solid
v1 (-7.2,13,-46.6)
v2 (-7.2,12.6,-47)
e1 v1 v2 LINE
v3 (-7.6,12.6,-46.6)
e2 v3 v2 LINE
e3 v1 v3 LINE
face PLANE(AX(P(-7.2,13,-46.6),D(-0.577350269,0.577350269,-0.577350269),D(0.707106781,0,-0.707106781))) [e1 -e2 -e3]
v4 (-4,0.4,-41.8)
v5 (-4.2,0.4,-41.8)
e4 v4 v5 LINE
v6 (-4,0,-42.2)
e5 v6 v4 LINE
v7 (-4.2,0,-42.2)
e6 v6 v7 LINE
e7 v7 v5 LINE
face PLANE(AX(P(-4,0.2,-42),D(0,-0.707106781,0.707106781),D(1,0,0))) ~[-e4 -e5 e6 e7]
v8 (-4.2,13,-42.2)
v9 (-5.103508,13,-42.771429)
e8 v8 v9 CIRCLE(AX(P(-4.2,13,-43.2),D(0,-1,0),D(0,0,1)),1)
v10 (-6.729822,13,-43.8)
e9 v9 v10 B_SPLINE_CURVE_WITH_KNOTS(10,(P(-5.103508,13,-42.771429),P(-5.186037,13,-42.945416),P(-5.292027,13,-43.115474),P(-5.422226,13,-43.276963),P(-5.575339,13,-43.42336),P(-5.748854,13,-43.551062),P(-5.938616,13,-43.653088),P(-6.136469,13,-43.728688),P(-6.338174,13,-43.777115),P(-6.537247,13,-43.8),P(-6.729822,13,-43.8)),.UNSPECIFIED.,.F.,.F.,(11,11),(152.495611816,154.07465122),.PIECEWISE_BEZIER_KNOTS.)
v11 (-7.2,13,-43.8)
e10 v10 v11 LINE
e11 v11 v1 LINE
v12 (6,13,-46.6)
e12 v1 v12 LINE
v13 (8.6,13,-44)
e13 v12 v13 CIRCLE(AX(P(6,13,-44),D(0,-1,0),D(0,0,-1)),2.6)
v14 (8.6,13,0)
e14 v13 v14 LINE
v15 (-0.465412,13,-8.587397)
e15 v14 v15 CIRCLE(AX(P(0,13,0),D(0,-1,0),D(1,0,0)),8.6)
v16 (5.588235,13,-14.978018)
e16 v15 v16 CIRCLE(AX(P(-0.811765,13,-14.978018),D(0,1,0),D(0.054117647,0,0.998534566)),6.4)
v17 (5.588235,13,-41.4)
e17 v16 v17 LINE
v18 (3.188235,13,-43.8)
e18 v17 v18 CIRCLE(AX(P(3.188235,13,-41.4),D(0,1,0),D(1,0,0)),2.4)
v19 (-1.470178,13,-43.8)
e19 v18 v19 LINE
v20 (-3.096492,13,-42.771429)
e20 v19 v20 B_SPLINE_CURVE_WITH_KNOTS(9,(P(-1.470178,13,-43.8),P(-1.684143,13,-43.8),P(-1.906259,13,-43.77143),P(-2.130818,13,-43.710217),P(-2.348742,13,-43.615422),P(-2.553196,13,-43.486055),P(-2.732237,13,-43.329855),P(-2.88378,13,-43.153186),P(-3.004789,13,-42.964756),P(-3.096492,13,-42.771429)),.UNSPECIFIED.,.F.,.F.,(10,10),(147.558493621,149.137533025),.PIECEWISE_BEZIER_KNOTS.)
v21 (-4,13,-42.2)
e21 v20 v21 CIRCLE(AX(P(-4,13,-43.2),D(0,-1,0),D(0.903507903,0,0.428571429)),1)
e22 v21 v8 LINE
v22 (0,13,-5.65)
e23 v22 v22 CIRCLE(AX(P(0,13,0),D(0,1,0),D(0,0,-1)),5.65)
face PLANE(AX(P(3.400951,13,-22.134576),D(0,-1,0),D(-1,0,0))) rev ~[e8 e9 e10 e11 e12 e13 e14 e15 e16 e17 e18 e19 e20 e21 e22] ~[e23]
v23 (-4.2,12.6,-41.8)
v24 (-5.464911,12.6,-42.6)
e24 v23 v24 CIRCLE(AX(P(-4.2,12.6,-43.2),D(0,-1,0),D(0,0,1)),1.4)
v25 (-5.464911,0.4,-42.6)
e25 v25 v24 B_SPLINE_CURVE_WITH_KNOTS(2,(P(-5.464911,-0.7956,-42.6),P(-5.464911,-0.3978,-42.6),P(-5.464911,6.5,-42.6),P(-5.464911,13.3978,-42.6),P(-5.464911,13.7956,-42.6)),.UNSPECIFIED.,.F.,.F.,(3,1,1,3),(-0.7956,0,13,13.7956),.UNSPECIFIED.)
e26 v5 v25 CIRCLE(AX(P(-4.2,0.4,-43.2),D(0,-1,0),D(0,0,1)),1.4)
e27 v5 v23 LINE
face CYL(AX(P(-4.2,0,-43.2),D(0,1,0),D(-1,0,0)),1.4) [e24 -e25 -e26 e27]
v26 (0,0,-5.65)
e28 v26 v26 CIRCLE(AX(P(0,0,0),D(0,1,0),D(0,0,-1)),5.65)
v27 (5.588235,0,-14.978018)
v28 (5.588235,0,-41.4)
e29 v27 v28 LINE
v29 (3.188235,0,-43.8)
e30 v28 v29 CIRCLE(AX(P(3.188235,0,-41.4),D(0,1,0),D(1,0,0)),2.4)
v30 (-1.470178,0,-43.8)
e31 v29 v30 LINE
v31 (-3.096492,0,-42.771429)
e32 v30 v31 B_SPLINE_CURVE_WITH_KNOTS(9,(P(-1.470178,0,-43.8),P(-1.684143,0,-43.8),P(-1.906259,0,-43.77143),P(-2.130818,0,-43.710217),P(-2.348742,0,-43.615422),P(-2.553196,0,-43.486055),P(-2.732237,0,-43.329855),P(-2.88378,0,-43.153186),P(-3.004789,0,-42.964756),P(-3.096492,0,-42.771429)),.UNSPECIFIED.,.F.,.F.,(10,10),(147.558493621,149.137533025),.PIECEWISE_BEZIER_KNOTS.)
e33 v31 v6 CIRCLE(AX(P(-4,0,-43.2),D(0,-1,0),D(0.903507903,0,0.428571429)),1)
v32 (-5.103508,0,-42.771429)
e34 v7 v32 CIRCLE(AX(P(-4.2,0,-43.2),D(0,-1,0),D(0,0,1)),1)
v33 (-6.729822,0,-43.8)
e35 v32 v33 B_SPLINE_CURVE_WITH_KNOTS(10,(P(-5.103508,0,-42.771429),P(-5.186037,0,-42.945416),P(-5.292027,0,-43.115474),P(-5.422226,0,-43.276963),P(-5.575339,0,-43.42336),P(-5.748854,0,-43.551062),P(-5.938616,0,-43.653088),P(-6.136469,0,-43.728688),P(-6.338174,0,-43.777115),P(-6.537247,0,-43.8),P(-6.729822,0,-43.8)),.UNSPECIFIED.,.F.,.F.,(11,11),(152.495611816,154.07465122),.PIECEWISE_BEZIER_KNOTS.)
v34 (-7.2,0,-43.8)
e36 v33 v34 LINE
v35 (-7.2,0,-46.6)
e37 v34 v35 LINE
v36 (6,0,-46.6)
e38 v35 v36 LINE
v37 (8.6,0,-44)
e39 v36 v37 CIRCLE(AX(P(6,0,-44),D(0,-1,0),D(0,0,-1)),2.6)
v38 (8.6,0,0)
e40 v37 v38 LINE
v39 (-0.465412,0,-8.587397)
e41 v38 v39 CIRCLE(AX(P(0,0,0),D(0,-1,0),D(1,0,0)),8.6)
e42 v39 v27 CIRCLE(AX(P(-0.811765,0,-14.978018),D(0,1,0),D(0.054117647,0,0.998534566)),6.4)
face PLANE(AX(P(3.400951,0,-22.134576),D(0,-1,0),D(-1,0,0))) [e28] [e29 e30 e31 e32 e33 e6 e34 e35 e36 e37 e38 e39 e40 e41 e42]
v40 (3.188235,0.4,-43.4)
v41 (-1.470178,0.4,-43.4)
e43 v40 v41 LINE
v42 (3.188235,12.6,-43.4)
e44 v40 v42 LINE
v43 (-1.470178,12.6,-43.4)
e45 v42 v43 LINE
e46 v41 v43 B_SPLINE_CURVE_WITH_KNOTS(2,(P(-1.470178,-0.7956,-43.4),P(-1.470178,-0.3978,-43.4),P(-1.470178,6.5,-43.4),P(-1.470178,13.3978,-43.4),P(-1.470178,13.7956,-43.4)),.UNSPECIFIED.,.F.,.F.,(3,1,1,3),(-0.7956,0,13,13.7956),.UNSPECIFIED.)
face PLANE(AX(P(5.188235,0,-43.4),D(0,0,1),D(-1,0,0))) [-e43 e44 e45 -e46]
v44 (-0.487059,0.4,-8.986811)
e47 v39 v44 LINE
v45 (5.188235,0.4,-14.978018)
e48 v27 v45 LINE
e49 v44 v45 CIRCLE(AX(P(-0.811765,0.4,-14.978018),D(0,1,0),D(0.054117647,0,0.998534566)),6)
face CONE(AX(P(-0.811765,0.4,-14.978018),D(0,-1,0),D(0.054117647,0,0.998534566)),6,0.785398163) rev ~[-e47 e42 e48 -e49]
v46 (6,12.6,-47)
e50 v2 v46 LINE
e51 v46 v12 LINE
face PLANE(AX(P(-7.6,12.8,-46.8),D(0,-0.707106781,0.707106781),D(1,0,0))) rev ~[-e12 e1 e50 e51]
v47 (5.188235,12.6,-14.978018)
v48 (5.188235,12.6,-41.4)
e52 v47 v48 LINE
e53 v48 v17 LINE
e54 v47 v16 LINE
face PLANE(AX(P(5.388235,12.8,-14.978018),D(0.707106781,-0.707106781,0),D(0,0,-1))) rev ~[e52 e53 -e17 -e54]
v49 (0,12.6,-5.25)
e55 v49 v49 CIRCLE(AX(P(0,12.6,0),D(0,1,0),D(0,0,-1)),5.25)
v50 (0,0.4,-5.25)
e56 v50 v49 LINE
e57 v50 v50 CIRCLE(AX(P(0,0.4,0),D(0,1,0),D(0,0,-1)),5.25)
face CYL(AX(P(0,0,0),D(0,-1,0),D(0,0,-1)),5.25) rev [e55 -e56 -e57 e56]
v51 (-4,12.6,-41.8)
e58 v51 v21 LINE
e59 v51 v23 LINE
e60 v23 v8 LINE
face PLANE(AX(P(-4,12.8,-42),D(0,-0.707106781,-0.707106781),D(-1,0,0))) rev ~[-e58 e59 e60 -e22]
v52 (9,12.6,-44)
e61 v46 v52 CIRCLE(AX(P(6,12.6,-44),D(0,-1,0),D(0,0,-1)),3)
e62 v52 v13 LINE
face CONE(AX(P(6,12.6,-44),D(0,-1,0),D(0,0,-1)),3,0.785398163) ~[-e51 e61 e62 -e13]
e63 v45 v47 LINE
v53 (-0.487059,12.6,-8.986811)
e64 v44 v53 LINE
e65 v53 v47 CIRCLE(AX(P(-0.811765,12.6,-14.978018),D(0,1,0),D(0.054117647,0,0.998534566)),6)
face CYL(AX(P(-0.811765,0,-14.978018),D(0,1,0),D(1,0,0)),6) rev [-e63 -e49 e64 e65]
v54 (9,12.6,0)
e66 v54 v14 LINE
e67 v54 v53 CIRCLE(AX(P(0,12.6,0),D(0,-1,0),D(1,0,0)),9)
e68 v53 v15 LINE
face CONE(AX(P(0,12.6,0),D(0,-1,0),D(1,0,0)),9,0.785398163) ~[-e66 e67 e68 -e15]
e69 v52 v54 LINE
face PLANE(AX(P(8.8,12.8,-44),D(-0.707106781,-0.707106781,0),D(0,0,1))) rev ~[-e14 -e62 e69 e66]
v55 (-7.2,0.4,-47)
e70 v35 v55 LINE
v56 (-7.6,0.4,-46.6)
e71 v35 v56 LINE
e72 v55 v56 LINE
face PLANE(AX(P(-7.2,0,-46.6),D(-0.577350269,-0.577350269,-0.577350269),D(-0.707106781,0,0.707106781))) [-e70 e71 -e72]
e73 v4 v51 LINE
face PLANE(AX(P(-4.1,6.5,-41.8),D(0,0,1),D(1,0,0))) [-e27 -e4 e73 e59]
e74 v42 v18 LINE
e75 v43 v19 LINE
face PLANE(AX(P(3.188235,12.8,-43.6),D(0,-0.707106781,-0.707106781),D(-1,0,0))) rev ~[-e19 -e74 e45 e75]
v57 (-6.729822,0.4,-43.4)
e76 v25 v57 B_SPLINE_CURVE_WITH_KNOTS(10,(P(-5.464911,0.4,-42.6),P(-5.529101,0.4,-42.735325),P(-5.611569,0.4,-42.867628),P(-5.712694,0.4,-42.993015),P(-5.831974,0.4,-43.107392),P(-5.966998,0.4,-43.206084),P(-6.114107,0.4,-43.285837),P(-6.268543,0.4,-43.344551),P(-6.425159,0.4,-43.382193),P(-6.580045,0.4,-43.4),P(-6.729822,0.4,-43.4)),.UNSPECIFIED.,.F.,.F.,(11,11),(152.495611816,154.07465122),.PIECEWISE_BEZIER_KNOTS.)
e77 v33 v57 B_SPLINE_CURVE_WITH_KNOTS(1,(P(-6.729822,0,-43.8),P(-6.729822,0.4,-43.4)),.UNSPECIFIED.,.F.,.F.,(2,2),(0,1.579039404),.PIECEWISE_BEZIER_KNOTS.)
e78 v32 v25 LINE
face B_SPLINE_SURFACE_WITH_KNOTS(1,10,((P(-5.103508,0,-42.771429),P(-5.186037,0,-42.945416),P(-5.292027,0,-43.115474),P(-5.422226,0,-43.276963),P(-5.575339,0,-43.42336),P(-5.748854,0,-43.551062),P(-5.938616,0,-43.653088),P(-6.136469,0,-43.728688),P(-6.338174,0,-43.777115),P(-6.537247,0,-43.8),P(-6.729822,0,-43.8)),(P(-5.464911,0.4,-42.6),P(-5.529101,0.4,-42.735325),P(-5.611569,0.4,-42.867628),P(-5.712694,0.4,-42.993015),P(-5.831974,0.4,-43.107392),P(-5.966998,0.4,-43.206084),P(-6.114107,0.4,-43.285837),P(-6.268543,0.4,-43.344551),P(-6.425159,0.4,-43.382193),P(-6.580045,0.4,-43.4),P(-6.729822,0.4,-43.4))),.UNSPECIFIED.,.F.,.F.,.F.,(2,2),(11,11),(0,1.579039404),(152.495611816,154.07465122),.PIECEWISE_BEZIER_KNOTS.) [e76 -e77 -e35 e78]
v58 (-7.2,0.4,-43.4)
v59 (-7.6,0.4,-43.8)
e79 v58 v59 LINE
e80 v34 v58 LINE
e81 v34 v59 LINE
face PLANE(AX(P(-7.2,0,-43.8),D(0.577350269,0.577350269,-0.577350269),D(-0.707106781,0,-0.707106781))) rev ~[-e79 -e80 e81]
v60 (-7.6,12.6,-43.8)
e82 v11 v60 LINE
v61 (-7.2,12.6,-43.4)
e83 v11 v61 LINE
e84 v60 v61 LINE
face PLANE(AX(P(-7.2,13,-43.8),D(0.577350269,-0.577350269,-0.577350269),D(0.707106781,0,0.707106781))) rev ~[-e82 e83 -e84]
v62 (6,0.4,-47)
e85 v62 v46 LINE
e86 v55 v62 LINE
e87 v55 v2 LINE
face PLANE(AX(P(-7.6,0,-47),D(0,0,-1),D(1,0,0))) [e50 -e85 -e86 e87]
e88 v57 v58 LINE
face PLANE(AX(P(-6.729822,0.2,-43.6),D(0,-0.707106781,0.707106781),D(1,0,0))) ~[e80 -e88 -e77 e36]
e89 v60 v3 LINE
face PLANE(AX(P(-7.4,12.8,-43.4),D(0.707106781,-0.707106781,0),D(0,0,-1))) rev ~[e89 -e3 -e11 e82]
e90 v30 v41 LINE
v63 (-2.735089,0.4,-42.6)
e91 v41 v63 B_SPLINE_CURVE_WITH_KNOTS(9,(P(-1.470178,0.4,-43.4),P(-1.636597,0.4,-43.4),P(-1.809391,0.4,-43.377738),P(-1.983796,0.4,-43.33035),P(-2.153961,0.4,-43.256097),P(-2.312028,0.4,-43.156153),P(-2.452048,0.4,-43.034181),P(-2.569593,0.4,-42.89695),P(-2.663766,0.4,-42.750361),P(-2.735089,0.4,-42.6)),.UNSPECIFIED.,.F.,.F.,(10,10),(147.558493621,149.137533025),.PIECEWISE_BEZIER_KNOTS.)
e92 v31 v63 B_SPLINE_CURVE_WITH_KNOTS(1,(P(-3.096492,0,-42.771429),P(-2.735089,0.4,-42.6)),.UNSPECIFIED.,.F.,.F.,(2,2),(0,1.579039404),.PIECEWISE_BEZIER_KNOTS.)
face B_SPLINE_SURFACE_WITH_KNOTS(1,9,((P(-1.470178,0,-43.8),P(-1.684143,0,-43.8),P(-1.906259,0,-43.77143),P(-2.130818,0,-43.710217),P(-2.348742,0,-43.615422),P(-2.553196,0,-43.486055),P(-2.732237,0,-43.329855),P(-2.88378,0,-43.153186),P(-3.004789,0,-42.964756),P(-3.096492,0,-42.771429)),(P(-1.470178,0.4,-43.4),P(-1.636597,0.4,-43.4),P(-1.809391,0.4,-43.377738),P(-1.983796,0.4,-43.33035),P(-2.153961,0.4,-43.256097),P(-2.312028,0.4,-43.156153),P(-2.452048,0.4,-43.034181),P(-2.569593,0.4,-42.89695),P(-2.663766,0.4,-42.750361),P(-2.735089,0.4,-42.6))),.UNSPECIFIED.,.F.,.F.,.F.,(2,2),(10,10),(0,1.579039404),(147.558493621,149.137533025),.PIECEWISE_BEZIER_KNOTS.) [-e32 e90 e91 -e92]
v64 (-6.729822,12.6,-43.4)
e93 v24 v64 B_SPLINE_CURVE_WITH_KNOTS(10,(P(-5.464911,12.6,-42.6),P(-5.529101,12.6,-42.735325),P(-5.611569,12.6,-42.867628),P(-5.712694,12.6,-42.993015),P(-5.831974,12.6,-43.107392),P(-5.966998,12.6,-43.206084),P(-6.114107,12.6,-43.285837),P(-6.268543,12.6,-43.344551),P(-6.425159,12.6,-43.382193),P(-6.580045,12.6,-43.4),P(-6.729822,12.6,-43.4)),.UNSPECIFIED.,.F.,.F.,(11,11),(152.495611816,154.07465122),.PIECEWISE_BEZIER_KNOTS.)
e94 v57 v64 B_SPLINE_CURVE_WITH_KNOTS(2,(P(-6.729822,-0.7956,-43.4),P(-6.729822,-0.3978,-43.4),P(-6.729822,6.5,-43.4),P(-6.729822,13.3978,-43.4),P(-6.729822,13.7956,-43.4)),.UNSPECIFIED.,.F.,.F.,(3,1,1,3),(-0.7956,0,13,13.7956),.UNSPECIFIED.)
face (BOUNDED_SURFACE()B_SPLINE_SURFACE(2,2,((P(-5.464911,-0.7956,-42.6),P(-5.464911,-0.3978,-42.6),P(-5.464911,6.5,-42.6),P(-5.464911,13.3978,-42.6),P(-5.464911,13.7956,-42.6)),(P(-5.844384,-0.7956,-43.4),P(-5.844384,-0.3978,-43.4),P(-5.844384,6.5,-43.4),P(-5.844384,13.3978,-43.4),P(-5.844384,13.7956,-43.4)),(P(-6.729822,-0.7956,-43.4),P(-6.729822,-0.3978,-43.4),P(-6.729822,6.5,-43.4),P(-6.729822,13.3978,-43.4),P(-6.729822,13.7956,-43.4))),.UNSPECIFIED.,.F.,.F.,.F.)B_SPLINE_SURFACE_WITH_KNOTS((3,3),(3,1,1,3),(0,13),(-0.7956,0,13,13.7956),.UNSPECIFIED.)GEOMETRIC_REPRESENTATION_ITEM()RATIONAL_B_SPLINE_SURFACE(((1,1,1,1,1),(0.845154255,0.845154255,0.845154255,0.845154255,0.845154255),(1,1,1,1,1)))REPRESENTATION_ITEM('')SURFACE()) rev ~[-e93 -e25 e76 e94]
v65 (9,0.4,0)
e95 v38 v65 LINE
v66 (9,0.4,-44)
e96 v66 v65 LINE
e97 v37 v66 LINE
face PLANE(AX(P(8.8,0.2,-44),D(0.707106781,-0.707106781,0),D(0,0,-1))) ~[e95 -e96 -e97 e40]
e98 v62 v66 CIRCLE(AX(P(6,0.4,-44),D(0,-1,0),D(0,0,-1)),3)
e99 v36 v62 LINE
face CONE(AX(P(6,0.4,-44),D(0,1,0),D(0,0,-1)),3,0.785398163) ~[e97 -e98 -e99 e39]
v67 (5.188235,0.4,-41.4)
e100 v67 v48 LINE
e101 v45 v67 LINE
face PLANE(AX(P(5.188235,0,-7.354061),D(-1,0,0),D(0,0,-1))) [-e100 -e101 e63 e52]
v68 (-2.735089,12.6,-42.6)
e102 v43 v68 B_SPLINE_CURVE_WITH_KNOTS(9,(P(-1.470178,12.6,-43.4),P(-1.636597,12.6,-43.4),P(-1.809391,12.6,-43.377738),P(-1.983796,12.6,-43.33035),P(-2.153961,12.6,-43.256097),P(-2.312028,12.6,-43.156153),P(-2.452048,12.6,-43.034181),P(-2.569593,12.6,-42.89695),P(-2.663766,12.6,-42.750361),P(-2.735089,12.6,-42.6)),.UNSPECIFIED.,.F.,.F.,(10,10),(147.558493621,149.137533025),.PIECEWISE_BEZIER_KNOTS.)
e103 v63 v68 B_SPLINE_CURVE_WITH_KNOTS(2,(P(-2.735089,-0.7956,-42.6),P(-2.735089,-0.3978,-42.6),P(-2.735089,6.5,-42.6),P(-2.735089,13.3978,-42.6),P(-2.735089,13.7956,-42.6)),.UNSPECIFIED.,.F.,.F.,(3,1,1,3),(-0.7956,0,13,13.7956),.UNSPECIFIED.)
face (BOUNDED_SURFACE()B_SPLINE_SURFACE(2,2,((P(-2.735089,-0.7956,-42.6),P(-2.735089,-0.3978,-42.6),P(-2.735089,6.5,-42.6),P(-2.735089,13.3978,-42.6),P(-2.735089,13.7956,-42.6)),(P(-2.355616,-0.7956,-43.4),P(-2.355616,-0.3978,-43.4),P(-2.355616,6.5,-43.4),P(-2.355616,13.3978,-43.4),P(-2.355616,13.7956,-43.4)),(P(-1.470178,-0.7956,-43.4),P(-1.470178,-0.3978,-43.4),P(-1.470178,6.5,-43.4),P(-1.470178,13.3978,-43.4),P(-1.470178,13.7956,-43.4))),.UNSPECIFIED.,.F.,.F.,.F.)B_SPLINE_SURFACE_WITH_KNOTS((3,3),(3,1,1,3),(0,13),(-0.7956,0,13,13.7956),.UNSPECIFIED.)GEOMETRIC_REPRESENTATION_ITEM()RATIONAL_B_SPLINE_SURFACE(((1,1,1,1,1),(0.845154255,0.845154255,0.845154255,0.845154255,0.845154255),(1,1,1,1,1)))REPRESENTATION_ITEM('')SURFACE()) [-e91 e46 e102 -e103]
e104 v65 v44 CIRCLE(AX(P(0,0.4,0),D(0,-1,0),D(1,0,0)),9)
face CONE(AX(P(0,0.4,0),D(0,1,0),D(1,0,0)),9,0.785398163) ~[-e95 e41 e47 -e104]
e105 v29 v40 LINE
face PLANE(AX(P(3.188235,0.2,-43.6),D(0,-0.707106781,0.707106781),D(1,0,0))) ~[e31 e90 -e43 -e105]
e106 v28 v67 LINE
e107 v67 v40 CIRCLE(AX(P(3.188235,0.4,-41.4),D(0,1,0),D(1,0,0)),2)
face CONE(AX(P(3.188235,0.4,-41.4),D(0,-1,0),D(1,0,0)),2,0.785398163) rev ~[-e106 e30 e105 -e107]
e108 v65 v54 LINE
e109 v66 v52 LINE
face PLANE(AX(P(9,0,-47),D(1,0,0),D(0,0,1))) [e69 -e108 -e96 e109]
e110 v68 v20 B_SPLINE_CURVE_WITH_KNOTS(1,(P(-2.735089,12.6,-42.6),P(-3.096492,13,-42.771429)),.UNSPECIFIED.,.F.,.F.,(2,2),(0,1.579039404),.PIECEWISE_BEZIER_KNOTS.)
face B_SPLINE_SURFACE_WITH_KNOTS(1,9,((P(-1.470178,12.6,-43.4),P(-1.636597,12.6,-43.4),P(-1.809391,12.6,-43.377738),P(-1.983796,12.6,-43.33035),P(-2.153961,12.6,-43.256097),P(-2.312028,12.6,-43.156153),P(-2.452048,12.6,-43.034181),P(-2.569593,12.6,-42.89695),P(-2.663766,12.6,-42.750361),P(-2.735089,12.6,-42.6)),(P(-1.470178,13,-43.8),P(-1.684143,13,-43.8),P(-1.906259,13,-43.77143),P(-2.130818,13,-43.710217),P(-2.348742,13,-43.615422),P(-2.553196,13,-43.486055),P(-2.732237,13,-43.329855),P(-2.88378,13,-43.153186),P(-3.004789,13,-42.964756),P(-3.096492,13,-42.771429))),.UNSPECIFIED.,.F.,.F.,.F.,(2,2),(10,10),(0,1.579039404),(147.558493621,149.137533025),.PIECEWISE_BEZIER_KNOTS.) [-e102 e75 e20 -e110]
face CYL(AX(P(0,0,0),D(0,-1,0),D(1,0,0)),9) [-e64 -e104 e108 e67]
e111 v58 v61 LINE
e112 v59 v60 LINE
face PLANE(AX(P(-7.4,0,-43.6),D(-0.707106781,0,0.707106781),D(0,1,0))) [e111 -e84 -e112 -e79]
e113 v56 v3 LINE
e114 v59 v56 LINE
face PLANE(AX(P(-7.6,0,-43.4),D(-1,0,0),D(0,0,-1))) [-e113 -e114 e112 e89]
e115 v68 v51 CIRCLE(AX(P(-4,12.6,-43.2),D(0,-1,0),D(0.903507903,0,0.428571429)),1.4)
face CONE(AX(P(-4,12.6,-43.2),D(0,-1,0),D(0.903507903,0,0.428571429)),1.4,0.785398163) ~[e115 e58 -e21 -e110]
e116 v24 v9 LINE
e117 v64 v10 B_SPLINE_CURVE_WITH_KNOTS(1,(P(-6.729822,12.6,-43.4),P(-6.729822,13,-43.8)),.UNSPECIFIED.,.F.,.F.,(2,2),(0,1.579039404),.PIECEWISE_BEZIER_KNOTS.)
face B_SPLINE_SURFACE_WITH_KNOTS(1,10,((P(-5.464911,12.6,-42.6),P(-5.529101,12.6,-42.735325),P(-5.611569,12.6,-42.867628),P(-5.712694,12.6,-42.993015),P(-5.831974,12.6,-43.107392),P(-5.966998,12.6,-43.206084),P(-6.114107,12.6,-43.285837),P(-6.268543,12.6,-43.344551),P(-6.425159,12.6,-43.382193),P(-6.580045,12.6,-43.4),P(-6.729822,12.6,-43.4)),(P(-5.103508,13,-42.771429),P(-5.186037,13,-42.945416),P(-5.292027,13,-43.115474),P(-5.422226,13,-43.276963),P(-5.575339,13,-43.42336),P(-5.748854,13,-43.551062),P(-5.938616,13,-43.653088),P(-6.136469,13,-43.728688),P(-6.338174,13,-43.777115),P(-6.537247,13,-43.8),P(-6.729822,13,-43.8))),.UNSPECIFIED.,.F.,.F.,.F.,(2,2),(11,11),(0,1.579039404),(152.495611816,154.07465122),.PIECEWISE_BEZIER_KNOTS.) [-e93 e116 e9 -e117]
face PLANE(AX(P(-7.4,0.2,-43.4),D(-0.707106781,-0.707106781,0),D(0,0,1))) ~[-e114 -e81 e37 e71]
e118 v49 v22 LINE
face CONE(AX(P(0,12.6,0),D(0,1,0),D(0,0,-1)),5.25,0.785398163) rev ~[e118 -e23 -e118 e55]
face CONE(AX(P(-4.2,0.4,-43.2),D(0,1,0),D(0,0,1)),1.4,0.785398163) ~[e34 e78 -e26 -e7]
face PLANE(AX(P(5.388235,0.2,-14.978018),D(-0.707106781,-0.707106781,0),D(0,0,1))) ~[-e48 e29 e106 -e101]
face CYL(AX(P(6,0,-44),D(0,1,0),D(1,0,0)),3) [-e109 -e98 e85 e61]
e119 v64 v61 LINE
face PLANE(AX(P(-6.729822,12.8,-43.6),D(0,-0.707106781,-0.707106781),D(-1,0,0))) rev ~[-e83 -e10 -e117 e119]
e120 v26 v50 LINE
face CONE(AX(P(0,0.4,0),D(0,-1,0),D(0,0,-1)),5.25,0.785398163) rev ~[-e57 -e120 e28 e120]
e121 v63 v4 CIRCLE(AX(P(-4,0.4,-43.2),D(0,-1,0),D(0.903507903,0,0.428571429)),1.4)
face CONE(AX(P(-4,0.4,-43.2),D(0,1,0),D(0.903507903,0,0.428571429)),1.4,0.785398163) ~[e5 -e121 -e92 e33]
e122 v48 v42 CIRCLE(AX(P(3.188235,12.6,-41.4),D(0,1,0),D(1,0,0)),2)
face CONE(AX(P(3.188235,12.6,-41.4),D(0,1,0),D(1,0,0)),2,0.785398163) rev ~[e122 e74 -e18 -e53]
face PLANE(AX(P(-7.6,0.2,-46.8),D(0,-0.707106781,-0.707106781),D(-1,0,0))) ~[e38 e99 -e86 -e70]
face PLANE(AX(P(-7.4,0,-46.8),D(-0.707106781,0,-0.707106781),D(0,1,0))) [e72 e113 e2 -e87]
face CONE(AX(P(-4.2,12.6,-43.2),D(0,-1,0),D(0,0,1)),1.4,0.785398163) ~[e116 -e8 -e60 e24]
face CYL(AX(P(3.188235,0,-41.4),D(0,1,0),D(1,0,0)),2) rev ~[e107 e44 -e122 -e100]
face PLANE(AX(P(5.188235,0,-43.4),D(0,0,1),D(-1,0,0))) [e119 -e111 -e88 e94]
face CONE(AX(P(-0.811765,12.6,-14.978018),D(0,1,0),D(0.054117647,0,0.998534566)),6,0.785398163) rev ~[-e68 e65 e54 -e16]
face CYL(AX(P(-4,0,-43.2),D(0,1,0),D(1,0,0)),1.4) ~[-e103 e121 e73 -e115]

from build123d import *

# Parameters (mm, degrees)
SKETCH_1_R      = 5.25
EXTRUDE_1_DEPTH = 13
FILLET_1_R      = 6
FILLET_2_R      = 2
FILLET_3_R      = 3
SKETCH_2_W      = 3
SKETCH_2_H      = 13
EXTRUDE_2_DEPTH = 1.6
FILLET_4_R      = 1.4
FILLET_5_R      = 1.4
CHAMFER_1_SIZE  = 0.4


with BuildPart() as part:
    # 草图1 → 凸台-拉伸1 (new body)
    with BuildSketch(Plane(origin=(0, 0, 0), x_dir=(1, 0, 0), z_dir=(0, 1, 0))):
        with BuildLine():
            Line((5.188235294, 7.354061091), (5.188235294, 43.4))
            Line((5.188235294, 43.4), (-7.6, 43.4))
            Line((-7.6, 43.4), (-7.6, 47))
            Line((-7.6, 47), (5.4, 47))
            Line((5.4, 47), (9, 47))
            Line((9, 47), (9, 0))
            ThreePointArc((9, 0), (-7.990435459, -4.14161094), (5.188235294, 7.354061091))
        make_face()
        with Locations(Location((0, 0, 0), (0, 0, 90))):
            Circle(SKETCH_1_R, mode=Mode.SUBTRACT)
    extrude(amount=EXTRUDE_1_DEPTH)

    # 圆角1
    fillet_1_edges = [part.edges().sort_by_distance(p)[0] for p in [
        (5.188235294, 6.5, -7.354061091),
    ]]
    fillet(fillet_1_edges, radius=FILLET_1_R)

    # 圆角2
    fillet_2_edges = [part.edges().sort_by_distance(p)[0] for p in [
        (5.188235294, 6.5, -43.4),
    ]]
    fillet(fillet_2_edges, radius=FILLET_2_R)

    # 圆角3
    fillet_3_edges = [part.edges().sort_by_distance(p)[0] for p in [
        (9, 6.5, -47),
    ]]
    fillet(fillet_3_edges, radius=FILLET_3_R)

    # 草图2 → 凸台-拉伸2 (add)
    with BuildSketch(Plane.XY.offset(-43.4)):
        with Locations((-4.1, 6.5)):
            Rectangle(SKETCH_2_W, SKETCH_2_H)
    extrude(amount=EXTRUDE_2_DEPTH)

    # 圆角4
    fillet_4_edges = [part.edges().sort_by_distance(p)[0] for p in [
        (-5.6, 6.5, -41.8),
        (-2.6, 6.5, -41.8),
    ]]
    fillet(fillet_4_edges, radius=FILLET_4_R)

    # 圆角5
    fillet_5_edges = [part.edges().sort_by_distance(p)[0] for p in [
        (-2.6, 6.5, -43.4),
        (-5.6, 6.5, -43.4),
    ]]
    fillet(fillet_5_edges, radius=FILLET_5_R)

    # 倒角1
    chamfer_1_edges = [part.edges().sort_by_distance(p)[0] for p in [
        (-7.6, 6.5, -43.4),
        (-7.6, 6.5, -47),
        (0, 0, 5.25),
        (0, 13, 5.25),
        (-7.6, 13, -45.2),
        (-7.164911064, 13, -43.4),
        (-6.189364692, 0, 6.533893533),
        (-6.189364692, 13, 6.533893533),
        (3.544164316, 0, -10.851775368),
        (3.544164316, 13, -10.851775368),
        (5.188235294, 0, -28.189009248),
        (5.188235294, 13, -28.189009248),
        (4.602448856, 0, -42.814213562),
        (4.602448856, 13, -42.814213562),
        (-0.8, 0, -47),
        (-0.8, 13, -47),
        (8.121320344, 0, -46.121320344),
        (8.121320344, 13, -46.121320344),
        (-4.1, 0, -41.8),
        (-4.1, 13, -41.8),
        (-3.251668523, 13, -42.016784043),
        (-4.948331477, 0, -42.016784043),
        (-3.251668523, 0, -42.016784043),
        (0.859028711, 0, -43.4),
        (0.859028711, 13, -43.4),
        (-4.948331477, 13, -42.016784043),
        (-2.218509349, 13, -43.183215957),
        (-2.218509349, 0, -43.183215957),
        (-5.981490651, 0, -43.183215957),
        (-5.981490651, 13, -43.183215957),
        (-7.164911064, 0, -43.4),
        (-7.6, 0, -45.2),
        (9, 13, -22),
        (9, 0, -22),
    ]]
    chamfer(chamfer_1_edges, length=CHAMFER_1_SIZE)


solid = part.part
